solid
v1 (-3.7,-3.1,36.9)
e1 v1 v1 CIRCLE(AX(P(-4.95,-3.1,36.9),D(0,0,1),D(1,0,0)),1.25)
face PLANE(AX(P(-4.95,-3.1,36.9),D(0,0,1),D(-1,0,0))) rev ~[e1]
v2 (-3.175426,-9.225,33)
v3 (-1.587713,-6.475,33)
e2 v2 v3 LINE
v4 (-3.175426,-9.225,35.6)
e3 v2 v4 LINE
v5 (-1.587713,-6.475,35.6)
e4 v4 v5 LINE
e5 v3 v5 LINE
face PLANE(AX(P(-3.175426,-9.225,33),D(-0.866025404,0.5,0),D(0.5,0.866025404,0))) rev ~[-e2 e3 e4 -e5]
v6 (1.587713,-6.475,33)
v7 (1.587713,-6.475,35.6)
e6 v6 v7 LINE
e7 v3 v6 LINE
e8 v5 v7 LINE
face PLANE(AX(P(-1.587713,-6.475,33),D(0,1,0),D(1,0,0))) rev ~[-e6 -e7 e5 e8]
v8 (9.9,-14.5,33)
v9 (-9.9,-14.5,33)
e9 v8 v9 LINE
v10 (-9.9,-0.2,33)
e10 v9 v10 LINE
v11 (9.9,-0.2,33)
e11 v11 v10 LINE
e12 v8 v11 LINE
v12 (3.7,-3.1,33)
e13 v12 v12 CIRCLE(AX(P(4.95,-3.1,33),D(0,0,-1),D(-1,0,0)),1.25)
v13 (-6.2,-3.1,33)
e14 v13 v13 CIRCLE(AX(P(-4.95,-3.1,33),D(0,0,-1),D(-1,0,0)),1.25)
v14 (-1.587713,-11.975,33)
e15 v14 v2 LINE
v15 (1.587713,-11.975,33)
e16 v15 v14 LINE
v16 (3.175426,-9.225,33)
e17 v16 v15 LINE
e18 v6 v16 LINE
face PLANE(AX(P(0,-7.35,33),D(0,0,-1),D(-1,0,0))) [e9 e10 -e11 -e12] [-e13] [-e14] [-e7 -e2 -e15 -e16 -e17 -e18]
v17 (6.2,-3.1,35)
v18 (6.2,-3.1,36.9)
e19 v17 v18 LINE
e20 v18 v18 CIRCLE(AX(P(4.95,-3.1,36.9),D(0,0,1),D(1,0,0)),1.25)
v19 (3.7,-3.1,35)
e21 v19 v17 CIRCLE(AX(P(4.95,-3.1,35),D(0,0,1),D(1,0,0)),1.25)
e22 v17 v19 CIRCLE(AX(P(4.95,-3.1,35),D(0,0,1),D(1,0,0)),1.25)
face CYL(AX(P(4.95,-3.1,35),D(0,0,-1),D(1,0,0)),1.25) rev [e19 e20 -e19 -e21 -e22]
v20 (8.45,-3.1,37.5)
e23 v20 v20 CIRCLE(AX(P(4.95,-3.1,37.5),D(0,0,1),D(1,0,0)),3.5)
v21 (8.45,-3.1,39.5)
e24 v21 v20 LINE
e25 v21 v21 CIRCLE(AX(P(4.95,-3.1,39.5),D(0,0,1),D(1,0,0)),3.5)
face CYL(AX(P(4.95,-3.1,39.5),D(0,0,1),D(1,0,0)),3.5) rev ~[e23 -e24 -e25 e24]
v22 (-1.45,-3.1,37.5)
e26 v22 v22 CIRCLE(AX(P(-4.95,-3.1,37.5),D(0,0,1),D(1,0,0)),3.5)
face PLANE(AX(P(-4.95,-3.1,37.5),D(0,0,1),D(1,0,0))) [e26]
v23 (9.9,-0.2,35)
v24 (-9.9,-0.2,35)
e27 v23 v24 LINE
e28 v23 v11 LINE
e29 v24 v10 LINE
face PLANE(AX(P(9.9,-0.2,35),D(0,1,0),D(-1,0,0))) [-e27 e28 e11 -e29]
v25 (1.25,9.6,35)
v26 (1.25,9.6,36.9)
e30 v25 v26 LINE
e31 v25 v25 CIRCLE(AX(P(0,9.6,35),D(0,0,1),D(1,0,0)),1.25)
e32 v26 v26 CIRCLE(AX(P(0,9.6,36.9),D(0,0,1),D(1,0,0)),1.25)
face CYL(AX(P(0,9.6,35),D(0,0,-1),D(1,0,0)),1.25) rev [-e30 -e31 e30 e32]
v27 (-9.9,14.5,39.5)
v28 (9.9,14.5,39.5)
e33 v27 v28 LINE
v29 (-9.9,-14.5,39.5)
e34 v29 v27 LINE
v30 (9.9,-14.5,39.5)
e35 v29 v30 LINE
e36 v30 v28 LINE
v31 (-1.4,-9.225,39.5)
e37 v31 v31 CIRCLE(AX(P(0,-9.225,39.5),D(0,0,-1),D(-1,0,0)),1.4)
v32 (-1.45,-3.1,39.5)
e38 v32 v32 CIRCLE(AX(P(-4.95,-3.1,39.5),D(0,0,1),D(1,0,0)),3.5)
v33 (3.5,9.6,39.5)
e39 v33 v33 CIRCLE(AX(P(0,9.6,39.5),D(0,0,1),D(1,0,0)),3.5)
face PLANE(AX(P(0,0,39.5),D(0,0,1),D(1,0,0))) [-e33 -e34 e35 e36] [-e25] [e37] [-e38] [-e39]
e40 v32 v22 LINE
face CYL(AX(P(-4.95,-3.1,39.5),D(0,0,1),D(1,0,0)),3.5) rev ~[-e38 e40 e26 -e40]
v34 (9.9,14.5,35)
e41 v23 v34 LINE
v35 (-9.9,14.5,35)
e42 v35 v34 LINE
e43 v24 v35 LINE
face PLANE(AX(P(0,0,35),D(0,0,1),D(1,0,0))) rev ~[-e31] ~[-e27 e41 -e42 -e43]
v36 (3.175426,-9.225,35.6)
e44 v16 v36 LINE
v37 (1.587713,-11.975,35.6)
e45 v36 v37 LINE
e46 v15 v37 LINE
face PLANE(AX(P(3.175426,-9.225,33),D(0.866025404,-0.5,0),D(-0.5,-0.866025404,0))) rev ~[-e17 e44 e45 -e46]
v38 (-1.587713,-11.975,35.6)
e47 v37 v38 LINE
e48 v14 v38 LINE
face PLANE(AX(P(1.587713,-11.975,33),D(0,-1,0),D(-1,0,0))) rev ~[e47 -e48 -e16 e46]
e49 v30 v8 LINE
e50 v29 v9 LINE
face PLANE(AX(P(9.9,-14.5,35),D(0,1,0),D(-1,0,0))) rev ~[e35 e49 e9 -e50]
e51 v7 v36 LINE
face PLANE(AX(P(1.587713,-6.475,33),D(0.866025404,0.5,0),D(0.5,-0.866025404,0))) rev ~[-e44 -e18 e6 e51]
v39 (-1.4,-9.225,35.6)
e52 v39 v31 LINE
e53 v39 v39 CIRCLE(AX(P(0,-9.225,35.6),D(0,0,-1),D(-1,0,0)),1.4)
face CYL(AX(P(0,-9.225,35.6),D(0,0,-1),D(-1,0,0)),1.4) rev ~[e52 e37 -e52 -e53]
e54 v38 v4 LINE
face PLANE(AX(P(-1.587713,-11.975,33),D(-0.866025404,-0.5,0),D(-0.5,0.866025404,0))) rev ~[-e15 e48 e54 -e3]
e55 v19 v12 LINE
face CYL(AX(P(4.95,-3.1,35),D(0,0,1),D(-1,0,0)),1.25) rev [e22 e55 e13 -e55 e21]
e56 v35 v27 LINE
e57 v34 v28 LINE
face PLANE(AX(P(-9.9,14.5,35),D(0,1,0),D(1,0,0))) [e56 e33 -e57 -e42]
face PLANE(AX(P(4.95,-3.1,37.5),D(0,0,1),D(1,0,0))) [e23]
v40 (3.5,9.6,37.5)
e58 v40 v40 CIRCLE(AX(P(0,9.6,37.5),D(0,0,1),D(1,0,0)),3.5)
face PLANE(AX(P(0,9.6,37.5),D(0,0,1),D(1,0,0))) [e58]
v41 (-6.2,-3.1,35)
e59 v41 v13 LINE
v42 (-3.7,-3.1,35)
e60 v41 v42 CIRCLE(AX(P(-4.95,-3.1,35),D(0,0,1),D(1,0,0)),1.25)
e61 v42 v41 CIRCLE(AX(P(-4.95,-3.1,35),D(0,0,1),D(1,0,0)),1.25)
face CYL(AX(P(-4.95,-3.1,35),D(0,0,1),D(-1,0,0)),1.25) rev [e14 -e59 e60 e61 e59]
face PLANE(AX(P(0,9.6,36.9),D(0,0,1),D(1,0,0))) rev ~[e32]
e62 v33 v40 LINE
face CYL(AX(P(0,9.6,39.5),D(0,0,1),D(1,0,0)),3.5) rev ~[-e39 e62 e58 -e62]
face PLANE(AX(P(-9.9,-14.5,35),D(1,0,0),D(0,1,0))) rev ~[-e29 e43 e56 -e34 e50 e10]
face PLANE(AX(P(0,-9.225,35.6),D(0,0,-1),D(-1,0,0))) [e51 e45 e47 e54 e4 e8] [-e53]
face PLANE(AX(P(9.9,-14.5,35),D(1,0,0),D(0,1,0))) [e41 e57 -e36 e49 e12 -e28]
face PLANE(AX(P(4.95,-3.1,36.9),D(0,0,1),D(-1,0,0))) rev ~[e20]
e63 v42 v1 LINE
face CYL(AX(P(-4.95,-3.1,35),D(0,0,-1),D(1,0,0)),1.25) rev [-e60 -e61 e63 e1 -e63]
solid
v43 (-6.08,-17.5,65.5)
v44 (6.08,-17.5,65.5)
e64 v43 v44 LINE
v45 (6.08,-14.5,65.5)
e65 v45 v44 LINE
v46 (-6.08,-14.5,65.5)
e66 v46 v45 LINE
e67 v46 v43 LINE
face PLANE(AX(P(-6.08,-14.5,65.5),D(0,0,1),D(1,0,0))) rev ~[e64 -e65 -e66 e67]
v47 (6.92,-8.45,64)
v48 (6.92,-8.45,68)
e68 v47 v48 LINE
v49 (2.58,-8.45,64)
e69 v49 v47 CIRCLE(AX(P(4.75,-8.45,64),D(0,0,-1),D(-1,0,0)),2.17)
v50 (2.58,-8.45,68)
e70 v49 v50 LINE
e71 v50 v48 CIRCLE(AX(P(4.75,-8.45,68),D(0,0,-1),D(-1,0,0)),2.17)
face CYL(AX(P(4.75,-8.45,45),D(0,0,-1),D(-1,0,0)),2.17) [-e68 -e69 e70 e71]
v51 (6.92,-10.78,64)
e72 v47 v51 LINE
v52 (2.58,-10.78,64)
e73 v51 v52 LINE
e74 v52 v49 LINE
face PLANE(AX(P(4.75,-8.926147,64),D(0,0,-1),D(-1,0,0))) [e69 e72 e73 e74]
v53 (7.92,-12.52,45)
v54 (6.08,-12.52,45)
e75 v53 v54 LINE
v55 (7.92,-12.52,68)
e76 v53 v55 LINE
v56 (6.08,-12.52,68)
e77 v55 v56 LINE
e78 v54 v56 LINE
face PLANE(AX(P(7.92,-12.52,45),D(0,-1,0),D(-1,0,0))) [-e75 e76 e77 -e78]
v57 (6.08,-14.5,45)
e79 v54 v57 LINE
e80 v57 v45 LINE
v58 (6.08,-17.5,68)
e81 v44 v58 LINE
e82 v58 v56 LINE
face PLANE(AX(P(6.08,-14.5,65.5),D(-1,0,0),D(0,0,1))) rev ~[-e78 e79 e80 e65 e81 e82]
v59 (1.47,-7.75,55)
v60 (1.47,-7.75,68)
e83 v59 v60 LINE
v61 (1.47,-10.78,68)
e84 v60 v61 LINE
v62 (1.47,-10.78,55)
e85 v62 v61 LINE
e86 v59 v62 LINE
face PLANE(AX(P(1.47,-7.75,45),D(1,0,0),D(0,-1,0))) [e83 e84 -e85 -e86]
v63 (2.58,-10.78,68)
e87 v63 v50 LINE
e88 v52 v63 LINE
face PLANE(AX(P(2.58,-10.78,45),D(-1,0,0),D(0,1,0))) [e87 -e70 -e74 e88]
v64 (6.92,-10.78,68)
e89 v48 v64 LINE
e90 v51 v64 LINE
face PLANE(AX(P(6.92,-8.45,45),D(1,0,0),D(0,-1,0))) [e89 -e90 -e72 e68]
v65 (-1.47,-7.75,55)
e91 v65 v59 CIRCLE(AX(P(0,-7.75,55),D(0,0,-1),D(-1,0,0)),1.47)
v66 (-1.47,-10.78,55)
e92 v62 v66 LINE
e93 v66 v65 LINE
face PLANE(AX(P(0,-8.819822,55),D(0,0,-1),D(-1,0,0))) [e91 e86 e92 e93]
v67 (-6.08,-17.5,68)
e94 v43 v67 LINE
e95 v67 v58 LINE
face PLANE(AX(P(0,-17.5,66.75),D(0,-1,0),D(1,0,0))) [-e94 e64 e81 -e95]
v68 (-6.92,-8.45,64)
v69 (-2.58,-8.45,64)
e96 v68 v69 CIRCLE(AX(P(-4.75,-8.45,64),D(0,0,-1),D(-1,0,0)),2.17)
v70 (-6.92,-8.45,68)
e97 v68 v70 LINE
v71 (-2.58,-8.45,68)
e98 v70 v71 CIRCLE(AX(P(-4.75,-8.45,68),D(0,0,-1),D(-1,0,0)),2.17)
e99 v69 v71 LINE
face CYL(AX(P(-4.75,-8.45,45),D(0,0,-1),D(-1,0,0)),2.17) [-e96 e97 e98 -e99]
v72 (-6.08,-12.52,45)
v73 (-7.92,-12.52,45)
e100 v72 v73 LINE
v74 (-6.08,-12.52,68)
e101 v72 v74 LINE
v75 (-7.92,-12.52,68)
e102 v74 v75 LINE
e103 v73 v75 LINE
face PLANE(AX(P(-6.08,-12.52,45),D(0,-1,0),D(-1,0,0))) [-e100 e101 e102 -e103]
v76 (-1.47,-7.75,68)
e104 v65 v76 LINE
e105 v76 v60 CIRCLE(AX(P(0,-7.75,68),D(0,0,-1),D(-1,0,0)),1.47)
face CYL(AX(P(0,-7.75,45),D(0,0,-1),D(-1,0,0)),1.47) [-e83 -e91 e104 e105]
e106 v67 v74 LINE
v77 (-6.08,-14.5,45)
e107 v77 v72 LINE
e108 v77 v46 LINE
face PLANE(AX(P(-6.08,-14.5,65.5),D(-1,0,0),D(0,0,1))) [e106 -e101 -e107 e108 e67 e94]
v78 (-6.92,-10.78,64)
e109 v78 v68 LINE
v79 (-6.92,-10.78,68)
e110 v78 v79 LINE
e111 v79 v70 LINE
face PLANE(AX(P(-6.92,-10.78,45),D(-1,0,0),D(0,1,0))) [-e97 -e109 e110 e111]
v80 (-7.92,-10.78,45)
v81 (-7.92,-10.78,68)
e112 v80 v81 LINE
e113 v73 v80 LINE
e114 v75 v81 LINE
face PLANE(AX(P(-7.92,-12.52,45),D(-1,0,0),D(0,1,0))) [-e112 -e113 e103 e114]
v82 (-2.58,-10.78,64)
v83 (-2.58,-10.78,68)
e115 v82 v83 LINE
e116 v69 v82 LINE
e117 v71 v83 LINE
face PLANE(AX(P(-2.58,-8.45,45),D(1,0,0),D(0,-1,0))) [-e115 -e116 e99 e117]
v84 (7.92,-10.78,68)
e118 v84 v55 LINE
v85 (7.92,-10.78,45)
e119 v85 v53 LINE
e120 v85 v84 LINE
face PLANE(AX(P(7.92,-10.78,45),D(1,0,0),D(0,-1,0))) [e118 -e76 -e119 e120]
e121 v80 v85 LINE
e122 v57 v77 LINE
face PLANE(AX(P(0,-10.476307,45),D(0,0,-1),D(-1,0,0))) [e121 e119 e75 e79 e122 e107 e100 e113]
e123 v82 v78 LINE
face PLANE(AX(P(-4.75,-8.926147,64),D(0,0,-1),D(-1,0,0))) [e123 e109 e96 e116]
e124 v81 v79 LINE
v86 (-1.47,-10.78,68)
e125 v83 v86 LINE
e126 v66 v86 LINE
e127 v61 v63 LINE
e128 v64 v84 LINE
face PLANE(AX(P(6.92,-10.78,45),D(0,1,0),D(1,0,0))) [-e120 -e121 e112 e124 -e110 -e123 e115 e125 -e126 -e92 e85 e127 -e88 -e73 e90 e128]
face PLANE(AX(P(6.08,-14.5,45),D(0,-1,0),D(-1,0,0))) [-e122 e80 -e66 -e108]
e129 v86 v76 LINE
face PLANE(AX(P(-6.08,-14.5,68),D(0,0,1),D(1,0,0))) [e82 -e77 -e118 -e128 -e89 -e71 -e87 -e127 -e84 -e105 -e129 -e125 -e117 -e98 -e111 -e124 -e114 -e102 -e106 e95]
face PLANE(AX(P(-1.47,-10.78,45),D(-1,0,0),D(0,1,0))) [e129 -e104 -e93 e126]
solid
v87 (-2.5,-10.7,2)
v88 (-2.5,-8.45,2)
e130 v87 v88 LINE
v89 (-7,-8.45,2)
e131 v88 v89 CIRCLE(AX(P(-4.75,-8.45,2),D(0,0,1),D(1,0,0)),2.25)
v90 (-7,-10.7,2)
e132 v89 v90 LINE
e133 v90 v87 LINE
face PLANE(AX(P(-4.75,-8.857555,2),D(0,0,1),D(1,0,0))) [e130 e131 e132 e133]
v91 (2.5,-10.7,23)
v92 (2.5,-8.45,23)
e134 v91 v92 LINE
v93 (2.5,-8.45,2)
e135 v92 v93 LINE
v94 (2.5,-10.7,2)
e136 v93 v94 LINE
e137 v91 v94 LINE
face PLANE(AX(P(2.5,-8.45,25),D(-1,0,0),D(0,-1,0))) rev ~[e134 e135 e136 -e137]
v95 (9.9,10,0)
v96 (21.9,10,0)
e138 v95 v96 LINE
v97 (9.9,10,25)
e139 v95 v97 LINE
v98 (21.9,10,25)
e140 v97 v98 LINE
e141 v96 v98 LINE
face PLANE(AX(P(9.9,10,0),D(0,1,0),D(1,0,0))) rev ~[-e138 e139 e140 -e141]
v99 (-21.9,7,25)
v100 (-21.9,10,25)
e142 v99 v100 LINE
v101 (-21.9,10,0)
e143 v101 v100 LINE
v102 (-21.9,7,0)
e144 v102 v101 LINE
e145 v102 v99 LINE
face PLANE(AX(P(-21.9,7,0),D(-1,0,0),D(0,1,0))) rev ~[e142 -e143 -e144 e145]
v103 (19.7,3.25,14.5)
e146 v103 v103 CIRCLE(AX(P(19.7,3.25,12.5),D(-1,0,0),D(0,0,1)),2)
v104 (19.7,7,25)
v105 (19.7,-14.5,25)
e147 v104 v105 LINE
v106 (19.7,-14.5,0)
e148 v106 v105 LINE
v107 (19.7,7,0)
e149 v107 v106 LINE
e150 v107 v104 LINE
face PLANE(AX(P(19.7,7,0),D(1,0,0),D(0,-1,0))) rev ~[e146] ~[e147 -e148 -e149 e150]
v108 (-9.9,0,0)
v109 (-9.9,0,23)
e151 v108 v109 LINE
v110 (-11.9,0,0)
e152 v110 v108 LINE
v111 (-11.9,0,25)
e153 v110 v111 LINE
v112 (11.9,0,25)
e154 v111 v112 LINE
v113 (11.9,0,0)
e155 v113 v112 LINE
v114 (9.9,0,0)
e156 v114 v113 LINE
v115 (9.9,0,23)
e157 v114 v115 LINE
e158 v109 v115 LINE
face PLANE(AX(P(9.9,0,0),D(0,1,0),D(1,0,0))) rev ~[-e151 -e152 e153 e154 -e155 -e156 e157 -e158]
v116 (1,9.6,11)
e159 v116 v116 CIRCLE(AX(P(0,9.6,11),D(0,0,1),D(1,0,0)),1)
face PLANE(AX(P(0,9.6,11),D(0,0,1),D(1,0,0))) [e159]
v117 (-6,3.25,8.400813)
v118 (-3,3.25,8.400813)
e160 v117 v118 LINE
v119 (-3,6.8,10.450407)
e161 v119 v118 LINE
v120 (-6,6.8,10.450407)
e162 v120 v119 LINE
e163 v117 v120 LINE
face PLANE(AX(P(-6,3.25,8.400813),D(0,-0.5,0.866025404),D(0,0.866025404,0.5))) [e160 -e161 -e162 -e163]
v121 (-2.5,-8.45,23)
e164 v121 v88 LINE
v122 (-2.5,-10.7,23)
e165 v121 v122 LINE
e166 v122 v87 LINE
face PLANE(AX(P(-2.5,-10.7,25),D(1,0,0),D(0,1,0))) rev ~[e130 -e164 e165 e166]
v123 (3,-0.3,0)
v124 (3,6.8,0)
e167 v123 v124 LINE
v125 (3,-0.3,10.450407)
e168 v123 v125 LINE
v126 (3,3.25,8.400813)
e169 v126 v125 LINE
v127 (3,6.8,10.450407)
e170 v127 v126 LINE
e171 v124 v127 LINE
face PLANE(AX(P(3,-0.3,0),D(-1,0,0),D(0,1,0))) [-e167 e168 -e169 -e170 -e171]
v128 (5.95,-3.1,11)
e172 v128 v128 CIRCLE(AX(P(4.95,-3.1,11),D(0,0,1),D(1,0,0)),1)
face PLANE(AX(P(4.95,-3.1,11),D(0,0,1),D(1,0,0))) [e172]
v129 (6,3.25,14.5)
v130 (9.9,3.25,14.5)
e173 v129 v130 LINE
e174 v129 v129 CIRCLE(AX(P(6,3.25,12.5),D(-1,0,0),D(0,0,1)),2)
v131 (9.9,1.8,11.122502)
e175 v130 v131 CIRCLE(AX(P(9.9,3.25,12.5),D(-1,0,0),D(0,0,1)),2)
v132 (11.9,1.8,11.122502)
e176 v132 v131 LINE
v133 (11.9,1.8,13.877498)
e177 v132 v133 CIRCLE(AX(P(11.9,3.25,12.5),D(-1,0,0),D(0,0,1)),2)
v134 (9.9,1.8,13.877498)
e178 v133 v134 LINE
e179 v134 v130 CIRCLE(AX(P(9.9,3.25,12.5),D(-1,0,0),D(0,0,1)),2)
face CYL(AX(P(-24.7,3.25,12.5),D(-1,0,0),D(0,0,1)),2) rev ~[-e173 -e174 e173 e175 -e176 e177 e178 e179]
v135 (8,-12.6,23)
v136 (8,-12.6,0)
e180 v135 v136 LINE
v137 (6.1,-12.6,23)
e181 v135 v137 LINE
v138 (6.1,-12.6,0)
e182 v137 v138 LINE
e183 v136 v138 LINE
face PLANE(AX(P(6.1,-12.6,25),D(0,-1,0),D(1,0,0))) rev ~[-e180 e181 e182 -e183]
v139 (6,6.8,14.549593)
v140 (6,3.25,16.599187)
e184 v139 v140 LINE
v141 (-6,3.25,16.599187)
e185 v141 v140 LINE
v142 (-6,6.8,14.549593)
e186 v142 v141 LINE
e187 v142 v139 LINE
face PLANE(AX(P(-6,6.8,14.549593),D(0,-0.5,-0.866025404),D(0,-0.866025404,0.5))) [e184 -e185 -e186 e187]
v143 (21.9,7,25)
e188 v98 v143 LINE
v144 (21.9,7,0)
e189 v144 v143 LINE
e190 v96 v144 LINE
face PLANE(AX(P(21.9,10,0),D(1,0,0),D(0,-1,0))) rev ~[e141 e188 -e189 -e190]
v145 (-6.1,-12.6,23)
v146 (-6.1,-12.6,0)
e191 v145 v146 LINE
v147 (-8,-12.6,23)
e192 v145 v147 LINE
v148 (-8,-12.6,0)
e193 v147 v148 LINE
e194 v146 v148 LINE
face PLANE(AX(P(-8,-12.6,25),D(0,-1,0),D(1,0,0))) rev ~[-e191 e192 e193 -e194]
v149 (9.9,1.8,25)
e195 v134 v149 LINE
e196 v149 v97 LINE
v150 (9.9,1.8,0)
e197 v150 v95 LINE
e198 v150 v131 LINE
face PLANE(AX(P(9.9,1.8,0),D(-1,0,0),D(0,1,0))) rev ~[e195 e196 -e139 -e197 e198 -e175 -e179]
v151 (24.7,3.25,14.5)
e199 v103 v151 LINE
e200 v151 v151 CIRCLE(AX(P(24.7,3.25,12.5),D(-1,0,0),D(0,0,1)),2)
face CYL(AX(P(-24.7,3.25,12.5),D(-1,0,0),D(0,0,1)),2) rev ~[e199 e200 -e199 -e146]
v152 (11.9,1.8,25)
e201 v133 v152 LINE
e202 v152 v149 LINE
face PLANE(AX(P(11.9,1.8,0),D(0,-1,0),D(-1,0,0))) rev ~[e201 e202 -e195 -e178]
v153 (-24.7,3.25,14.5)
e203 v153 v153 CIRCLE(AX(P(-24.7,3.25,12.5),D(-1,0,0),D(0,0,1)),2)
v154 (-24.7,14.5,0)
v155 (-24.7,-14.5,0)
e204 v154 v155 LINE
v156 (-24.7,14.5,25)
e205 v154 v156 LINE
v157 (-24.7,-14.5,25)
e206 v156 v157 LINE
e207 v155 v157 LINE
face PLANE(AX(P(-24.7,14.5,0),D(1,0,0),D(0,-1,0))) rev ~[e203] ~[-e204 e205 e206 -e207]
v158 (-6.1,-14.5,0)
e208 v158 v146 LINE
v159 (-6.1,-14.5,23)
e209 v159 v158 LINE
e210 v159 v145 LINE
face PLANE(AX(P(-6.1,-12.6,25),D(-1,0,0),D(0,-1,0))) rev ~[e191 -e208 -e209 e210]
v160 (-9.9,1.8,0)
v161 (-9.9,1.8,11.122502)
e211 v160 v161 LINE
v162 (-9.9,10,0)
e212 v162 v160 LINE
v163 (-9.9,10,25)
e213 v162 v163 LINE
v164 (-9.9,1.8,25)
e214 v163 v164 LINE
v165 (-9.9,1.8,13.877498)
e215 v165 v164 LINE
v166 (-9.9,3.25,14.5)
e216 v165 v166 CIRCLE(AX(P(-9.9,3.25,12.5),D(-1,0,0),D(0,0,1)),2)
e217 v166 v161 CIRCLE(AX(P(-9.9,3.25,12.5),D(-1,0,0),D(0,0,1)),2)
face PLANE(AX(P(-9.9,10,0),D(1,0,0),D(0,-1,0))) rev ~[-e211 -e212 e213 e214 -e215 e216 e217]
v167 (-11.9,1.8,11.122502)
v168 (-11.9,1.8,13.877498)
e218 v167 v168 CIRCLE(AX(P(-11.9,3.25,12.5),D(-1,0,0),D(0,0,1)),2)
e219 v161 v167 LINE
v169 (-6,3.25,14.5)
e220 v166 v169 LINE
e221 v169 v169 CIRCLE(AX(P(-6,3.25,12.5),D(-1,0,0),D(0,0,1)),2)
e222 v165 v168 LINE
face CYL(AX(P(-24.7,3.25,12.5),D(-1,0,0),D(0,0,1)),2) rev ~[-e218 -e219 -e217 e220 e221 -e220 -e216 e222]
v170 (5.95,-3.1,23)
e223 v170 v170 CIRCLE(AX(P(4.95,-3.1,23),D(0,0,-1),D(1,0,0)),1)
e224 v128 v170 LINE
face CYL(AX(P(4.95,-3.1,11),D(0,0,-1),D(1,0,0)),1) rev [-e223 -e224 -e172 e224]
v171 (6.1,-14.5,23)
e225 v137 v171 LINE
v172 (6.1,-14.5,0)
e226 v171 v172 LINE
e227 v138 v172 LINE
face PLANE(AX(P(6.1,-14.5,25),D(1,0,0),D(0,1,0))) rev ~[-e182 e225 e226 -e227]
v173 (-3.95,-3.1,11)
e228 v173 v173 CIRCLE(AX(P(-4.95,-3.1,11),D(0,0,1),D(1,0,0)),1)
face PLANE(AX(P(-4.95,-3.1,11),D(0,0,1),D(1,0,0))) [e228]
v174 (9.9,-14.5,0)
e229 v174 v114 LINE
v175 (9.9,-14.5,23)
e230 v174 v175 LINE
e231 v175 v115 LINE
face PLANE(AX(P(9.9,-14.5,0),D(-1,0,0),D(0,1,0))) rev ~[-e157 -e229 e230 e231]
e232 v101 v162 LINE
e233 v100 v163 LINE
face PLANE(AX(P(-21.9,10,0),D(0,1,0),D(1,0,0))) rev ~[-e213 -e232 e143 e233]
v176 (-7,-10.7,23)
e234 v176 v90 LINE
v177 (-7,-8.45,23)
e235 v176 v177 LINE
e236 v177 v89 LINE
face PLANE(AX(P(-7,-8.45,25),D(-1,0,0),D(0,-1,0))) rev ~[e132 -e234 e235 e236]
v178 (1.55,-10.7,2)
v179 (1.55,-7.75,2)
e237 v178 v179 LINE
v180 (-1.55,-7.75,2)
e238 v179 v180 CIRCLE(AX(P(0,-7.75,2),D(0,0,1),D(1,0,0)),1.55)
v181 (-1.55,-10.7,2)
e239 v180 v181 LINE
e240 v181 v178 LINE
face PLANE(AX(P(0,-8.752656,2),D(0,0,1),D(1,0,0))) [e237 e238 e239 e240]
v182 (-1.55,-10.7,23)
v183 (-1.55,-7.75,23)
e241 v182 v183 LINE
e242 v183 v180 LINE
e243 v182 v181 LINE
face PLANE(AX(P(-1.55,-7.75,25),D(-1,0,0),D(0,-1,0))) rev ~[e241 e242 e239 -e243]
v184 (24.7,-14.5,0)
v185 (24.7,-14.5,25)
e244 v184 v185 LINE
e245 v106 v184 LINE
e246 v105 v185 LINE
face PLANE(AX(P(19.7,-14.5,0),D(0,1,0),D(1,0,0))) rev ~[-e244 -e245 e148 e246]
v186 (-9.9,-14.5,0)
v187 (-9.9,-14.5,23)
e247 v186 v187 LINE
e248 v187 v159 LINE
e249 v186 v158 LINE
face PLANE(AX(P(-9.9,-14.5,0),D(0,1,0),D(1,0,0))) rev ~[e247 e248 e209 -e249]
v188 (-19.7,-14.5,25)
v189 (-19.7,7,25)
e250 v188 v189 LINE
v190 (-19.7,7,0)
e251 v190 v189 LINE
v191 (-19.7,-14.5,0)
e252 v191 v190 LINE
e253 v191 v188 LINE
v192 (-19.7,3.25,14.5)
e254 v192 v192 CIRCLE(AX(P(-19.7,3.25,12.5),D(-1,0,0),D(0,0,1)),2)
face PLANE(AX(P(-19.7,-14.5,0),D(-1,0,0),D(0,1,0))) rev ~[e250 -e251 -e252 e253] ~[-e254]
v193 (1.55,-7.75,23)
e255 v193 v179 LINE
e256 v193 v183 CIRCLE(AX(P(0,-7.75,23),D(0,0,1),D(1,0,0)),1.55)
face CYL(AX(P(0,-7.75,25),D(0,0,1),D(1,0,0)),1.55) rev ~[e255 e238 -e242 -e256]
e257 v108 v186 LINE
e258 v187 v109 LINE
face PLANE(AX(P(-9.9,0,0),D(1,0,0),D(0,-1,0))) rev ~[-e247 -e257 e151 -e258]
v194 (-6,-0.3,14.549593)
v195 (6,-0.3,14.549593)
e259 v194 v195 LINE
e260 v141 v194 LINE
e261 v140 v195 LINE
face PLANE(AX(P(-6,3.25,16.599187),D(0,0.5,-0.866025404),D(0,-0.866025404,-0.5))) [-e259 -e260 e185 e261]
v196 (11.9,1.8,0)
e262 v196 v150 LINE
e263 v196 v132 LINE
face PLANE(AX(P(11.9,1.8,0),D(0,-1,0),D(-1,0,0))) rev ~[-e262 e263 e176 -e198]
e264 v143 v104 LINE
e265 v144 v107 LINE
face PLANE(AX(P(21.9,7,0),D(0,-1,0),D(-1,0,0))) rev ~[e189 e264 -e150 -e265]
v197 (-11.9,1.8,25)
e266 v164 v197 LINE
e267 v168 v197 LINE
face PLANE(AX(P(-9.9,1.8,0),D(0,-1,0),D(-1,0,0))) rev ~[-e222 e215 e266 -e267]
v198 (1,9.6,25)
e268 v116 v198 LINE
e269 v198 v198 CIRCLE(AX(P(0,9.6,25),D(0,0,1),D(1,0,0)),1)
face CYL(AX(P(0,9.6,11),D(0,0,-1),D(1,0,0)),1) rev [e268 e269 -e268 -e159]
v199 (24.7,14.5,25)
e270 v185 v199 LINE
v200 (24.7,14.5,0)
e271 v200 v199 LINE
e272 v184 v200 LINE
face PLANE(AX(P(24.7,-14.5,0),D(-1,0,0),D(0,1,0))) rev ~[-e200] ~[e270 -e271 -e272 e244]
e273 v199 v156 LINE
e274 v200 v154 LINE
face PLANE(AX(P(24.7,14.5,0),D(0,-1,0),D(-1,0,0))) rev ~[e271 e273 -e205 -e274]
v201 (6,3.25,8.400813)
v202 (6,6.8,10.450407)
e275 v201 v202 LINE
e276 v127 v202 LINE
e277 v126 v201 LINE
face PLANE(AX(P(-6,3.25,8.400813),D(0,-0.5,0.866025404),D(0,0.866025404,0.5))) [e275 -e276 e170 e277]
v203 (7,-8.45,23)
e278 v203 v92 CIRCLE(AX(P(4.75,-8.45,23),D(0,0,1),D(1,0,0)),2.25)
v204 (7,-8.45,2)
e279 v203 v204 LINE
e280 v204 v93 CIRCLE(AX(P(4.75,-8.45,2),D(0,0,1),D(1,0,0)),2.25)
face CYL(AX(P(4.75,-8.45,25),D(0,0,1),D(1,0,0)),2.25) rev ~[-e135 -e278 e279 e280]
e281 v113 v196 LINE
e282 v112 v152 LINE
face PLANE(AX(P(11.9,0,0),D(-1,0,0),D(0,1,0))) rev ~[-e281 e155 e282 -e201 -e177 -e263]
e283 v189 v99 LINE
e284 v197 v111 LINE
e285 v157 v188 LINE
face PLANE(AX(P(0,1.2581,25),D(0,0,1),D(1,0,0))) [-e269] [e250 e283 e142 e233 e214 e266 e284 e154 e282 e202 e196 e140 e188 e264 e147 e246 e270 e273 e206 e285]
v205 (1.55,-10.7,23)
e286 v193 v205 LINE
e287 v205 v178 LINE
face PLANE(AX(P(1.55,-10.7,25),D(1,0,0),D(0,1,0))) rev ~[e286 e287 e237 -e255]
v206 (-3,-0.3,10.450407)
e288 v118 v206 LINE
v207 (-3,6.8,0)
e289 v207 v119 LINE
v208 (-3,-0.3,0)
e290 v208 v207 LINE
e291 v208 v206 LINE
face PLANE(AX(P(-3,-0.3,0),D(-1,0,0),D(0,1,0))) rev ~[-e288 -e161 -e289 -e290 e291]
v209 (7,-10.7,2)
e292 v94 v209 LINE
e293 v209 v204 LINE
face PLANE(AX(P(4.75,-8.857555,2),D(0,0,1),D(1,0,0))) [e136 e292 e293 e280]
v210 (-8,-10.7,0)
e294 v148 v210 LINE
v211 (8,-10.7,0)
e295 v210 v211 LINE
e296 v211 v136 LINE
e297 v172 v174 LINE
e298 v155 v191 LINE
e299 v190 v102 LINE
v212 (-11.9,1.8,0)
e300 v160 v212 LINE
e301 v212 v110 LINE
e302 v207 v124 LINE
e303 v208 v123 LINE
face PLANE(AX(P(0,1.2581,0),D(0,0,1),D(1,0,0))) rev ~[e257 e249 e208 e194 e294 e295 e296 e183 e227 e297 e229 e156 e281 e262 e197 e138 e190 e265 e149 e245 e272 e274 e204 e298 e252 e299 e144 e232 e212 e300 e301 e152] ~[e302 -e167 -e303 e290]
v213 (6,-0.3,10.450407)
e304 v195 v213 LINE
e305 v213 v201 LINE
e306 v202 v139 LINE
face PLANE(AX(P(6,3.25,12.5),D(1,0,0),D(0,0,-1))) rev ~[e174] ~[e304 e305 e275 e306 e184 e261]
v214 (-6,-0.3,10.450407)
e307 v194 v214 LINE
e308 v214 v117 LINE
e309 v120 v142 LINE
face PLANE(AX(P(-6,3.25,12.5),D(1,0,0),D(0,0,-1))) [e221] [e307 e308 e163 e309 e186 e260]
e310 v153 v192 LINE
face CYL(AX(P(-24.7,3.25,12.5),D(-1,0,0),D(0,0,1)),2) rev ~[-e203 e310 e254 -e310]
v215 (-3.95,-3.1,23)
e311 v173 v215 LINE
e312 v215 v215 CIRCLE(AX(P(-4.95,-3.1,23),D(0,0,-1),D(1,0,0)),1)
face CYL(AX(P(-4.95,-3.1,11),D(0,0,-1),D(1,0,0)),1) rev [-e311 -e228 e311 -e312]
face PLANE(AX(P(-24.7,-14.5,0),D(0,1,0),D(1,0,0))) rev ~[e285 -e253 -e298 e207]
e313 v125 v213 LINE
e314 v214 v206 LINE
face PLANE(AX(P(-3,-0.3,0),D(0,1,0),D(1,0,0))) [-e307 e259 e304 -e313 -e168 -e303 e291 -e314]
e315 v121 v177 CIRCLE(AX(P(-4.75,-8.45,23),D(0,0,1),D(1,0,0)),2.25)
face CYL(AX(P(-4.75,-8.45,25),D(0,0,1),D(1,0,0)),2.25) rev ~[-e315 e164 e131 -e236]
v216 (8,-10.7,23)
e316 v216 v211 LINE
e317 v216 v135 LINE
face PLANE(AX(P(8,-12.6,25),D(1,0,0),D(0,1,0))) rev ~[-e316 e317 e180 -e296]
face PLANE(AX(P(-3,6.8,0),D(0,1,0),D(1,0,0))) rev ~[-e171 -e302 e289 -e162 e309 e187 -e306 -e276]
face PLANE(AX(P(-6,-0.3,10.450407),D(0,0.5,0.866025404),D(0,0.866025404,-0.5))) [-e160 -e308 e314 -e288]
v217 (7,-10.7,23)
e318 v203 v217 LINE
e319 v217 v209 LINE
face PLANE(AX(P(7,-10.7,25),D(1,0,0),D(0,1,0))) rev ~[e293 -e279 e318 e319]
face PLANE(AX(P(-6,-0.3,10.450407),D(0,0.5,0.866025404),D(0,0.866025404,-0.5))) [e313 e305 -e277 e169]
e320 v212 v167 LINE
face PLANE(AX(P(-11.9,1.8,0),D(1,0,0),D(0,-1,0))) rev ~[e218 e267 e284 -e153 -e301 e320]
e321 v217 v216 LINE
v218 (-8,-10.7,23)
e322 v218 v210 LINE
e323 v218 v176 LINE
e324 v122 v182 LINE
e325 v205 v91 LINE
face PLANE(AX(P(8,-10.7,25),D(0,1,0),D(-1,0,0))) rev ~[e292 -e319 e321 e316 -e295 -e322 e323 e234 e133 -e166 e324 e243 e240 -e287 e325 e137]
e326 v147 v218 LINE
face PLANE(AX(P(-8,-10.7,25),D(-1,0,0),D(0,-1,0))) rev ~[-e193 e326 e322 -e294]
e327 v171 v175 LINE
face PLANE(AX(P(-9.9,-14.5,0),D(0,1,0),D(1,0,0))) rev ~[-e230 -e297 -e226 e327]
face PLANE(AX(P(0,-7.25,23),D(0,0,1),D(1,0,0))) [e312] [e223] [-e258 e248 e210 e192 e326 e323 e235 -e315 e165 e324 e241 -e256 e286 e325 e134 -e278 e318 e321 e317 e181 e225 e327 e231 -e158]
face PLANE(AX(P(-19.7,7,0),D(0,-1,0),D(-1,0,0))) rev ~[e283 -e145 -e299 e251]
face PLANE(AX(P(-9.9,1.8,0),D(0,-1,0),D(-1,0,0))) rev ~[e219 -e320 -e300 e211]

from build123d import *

# Parameters (mm, degrees)
BOSS_EXTRUDE1_DEPTH     = 25
SKETCH2_R               = 2
CUT_EXTRUDE1_DEPTH      = 58.232945058
CUT_EXTRUDE2_DEPTH      = 6
CUT_EXTRUDE2_DEPTH_BACK = 6
SKETCH6_W               = 6
SKETCH6_H               = 7.1
CUT_EXTRUDE3_DEPTH      = 10.450407
CUT_EXTRUDE4_REACH      = 40.018
CUT_EXTRUDE5_DEPTH      = 23
SKETCH12_W              = 19.8
SKETCH12_H              = 14.5
CUT_EXTRUDE6_DEPTH      = 2
CUT_EXTRUDE7_DEPTH      = 2
CUT_EXTRUDE7_DEPTH_BACK = 12
SKETCH13_R              = 1
SKETCH14_W              = 19.8
SKETCH14_H              = 29
SKETCH14_R              = 1.25
BOSS_EXTRUDE2_DEPTH     = 4.5
SKETCH15_W              = 19.8
SKETCH15_H              = 14.3
SKETCH15_R              = 1.25
BOSS_EXTRUDE3_DEPTH     = 2
SKETCH16_R              = 3.5
CUT_EXTRUDE8_DEPTH      = 2
SKETCH17_R              = 1.25
BOSS_EXTRUDE4_DEPTH     = 0.6
CUT_EXTRUDE9_DEPTH      = 2.6
SKETCH19_R              = 1.4
CUT_EXTRUDE10_DEPTH     = 3.9
BOSS_EXTRUDE5_DEPTH     = 23
SKETCH21_W              = 12.16
SKETCH21_H              = 2.5
BOSS_EXTRUDE6_DEPTH     = 3
CUT_EXTRUDE11_DEPTH     = 10
CUT_EXTRUDE12_DEPTH     = 9


with BuildPart() as part:
    # Sketch1 → Boss-Extrude1 (new body)
    with BuildSketch(Plane.XY):
        Polygon((-21.9, 7), (-21.9, 10), (-9.9, 10), (-9.9, 1.8), (-11.9, 1.8), (-11.9, 0), (-9.9, 0), (-9.9, -14.5), (9.9, -14.5), (9.9, 0), (11.9, 0), (11.9, 1.8), (9.9, 1.8), (9.9, 10), (21.9, 10), (21.9, 7), (19.7, 7), (19.7, -14.5), (24.7, -14.5), (24.7, 14.5), (-24.7, 14.5), (-24.7, -14.5), (-19.7, -14.5), (-19.7, 7), align=None)
    extrude(amount=BOSS_EXTRUDE1_DEPTH)

    # Sketch2 → Cut-Extrude1 (cut, through all)
    with BuildSketch(Plane.ZY.offset(24.7)):
        with Locations((12.5, 3.25)):
            Circle(SKETCH2_R)
    extrude(amount=-CUT_EXTRUDE1_DEPTH, mode=Mode.SUBTRACT)

    # Sketch5 → Cut-Extrude2 (cut, two sides: drawn at the far end of the back side and taken through both)
    with BuildSketch(Plane(origin=(0, 0, 0), x_dir=(0, 0, -1), z_dir=(1, 0, 0)).offset(-CUT_EXTRUDE2_DEPTH_BACK)):
        Polygon((-8.400813089, 3.25), (-10.450406544, 6.8), (-14.549593456, 6.8), (-16.599186911, 3.25), (-14.549593456, -0.3), (-10.450406544, -0.3), align=None)
    extrude(amount=CUT_EXTRUDE2_DEPTH + CUT_EXTRUDE2_DEPTH_BACK, mode=Mode.SUBTRACT)

    # Sketch6 → Cut-Extrude3 (cut)
    with BuildSketch(Plane.XY):
        with Locations((0, 3.25)):
            Rectangle(SKETCH6_W, SKETCH6_H)
    extrude(amount=CUT_EXTRUDE3_DEPTH, mode=Mode.SUBTRACT)

    # Sketch9 → Cut-Extrude4 (cut, up to next)
    with BuildSketch(Plane.XY.offset(25), mode=Mode.PRIVATE) as cut_extrude4_sk1:
        Polygon((-6.1, -14.5), (6.1, -14.5), (6.1, -12.6), (8, -12.6), (8, -10.7), (-8, -10.7), (-8, -12.6), (-6.1, -12.6), align=None)
    cut_extrude4_tool1 = extrude(cut_extrude4_sk1.sketch, amount=-CUT_EXTRUDE4_REACH, mode=Mode.PRIVATE) & part.part
    add(cut_extrude4_tool1.solids().sort_by_distance((0, -12.471986, 25))[0], mode=Mode.SUBTRACT)

    # Sketch11 → Cut-Extrude5 (cut)
    with BuildSketch(Plane.XY.offset(25)):
        with BuildLine():
            Line((-7, -8.45), (-7, -10.7))
            Line((-7, -10.7), (-2.5, -10.7))
            Line((-2.5, -10.7), (-2.5, -8.45))
            ThreePointArc((-2.5, -8.45), (-4.75, -6.2), (-7, -8.45))
        make_face()
        with BuildLine():
            Line((2.5, -8.45), (2.5, -10.7))
            Line((2.5, -10.7), (7, -10.7))
            Line((7, -10.7), (7, -8.45))
            ThreePointArc((7, -8.45), (4.75, -6.2), (2.5, -8.45))
        make_face()
        with BuildLine():
            Line((-1.55, -7.75), (-1.55, -10.7))
            Line((-1.55, -10.7), (1.55, -10.7))
            Line((1.55, -10.7), (1.55, -7.75))
            ThreePointArc((1.55, -7.75), (0, -6.2), (-1.55, -7.75))
        make_face()
    extrude(amount=-CUT_EXTRUDE5_DEPTH, mode=Mode.SUBTRACT)

    # Sketch12 → Cut-Extrude6 (cut)
    with BuildSketch(Plane.XY.offset(25)):
        with Locations((0, -7.25)):
            Rectangle(SKETCH12_W, SKETCH12_H)
    extrude(amount=-CUT_EXTRUDE6_DEPTH, mode=Mode.SUBTRACT)

    # Sketch13 → Cut-Extrude7 (cut, two sides: drawn at the far end of the back side and taken through both)
    with BuildSketch(Plane.XY.offset(23).offset(-CUT_EXTRUDE7_DEPTH_BACK)):
        with Locations((-4.95, -3.1)):
            Circle(SKETCH13_R)
        with Locations((4.95, -3.1)):
            Circle(SKETCH13_R)
        with Locations((0, 9.6)):
            Circle(SKETCH13_R)
    extrude(amount=CUT_EXTRUDE7_DEPTH + CUT_EXTRUDE7_DEPTH_BACK, mode=Mode.SUBTRACT)


with BuildPart() as body_2:
    # Sketch14 → Boss-Extrude2 (new body)
    with BuildSketch(Plane.XY.offset(35)):
        Rectangle(SKETCH14_W, SKETCH14_H)
        with Locations((0, 9.6)):
            Circle(SKETCH14_R, mode=Mode.SUBTRACT)
        with Locations((-4.95, -3.1)):
            Circle(SKETCH14_R, mode=Mode.SUBTRACT)
        with Locations((4.95, -3.1)):
            Circle(SKETCH14_R, mode=Mode.SUBTRACT)
    extrude(amount=BOSS_EXTRUDE2_DEPTH)

    # Sketch15 → Boss-Extrude3 (add)
    with BuildSketch(Plane(origin=(0, 0, 35), x_dir=(-1, 0, 0), z_dir=(0, 0, -1))):
        with Locations((0, -7.35)):
            Rectangle(SKETCH15_W, SKETCH15_H)
        with Locations((4.95, -3.1)):
            Circle(SKETCH15_R, mode=Mode.SUBTRACT)
        with Locations((-4.95, -3.1)):
            Circle(SKETCH15_R, mode=Mode.SUBTRACT)
    extrude(amount=BOSS_EXTRUDE3_DEPTH)

    # Sketch16 → Cut-Extrude8 (cut)
    with BuildSketch(Plane.XY.offset(39.5)):
        with Locations((4.95, -3.1)):
            Circle(SKETCH16_R)
        with Locations((-4.95, -3.1)):
            Circle(SKETCH16_R)
        with Locations((0, 9.6)):
            Circle(SKETCH16_R)
    extrude(amount=-CUT_EXTRUDE8_DEPTH, mode=Mode.SUBTRACT)

    # Sketch17 → Boss-Extrude4 (add)
    with BuildSketch(Plane.XY.offset(37.5)):
        with Locations((0, 9.6)):
            Circle(SKETCH17_R)
        with Locations(Location((-4.95, -3.1, 0), (0, 0, 180))):
            Circle(SKETCH17_R)
        with Locations(Location((4.95, -3.1, 0), (0, 0, 180))):
            Circle(SKETCH17_R)
    extrude(amount=-BOSS_EXTRUDE4_DEPTH)

    # Sketch18 → Cut-Extrude9 (cut)
    with BuildSketch(Plane(origin=(0, 0, 33), x_dir=(-1, 0, 0), z_dir=(0, 0, -1))):
        Polygon((-3.175426481, -9.225), (-1.58771324, -11.975), (1.58771324, -11.975), (3.175426481, -9.225), (1.58771324, -6.475), (-1.58771324, -6.475), align=None)
    extrude(amount=-CUT_EXTRUDE9_DEPTH, mode=Mode.SUBTRACT)

    # Sketch19 → Cut-Extrude10 (cut)
    with BuildSketch(Plane(origin=(0, 0, 35.6), x_dir=(-1, 0, 0), z_dir=(0, 0, -1))):
        with Locations((0, -9.225)):
            Circle(SKETCH19_R)
    extrude(amount=-CUT_EXTRUDE10_DEPTH, mode=Mode.SUBTRACT)


with BuildPart() as body_3:
    # Sketch20 → Boss-Extrude5 (new body)
    with BuildSketch(Plane.XY.offset(45)):
        with BuildLine():
            Line((-6.08, -12.52), (-7.92, -12.52))
            Line((-7.92, -12.52), (-7.92, -10.78))
            Line((-7.92, -10.78), (-6.92, -10.78))
            Line((-6.92, -10.78), (-6.92, -8.45))
            ThreePointArc((-6.92, -8.45), (-4.75, -6.28), (-2.58, -8.45))
            Line((-2.58, -8.45), (-2.58, -10.78))
            Line((-2.58, -10.78), (-1.47, -10.78))
            Line((-1.47, -10.78), (-1.47, -7.75))
            ThreePointArc((-1.47, -7.75), (0, -6.28), (1.47, -7.75))
            Line((1.47, -7.75), (1.47, -10.78))
            Line((1.47, -10.78), (2.58, -10.78))
            Line((2.58, -10.78), (2.58, -8.45))
            ThreePointArc((2.58, -8.45), (4.75, -6.28), (6.92, -8.45))
            Line((6.92, -8.45), (6.92, -10.78))
            Line((6.92, -10.78), (7.92, -10.78))
            Line((7.92, -10.78), (7.92, -12.52))
            Line((7.92, -12.52), (6.08, -12.52))
            Line((6.08, -12.52), (6.08, -14.5))
            Line((6.08, -14.5), (-6.08, -14.5))
            Line((-6.08, -14.5), (-6.08, -12.52))
        make_face()
    extrude(amount=BOSS_EXTRUDE5_DEPTH)

    # Sketch21 → Boss-Extrude6 (add)
    with BuildSketch(Plane.XZ.offset(14.5)):
        with Locations((0, 66.75)):
            Rectangle(SKETCH21_W, SKETCH21_H)
    extrude(amount=BOSS_EXTRUDE6_DEPTH)

    # Sketch22 → Cut-Extrude11 (cut)
    with BuildSketch(Plane(origin=(0, 0, 45), x_dir=(-1, 0, 0), z_dir=(0, 0, -1))):
        with BuildLine():
            Line((2.58, -10.78), (6.92, -10.78))
            Line((6.92, -10.78), (6.92, -8.45))
            ThreePointArc((6.92, -8.45), (4.75, -6.28), (2.58, -8.45))
            Line((2.58, -8.45), (2.58, -10.78))
        make_face()
        with BuildLine():
            Line((-1.47, -10.78), (1.47, -10.78))
            Line((1.47, -10.78), (1.47, -7.75))
            ThreePointArc((1.47, -7.75), (0, -6.28), (-1.47, -7.75))
            Line((-1.47, -7.75), (-1.47, -10.78))
        make_face()
        with BuildLine():
            Line((-6.92, -10.78), (-2.58, -10.78))
            Line((-2.58, -10.78), (-2.58, -8.45))
            ThreePointArc((-2.58, -8.45), (-4.75, -6.28), (-6.92, -8.45))
            Line((-6.92, -8.45), (-6.92, -10.78))
        make_face()
    extrude(amount=-CUT_EXTRUDE11_DEPTH, mode=Mode.SUBTRACT)

    # Sketch23 → Cut-Extrude12 (cut)
    with BuildSketch(Plane(origin=(0, 0, 55), x_dir=(-1, 0, 0), z_dir=(0, 0, -1))):
        with BuildLine():
            Line((-6.92, -10.78), (-2.58, -10.78))
            Line((-2.58, -10.78), (-2.58, -8.45))
            ThreePointArc((-2.58, -8.45), (-4.75, -6.28), (-6.92, -8.45))
            Line((-6.92, -8.45), (-6.92, -10.78))
        make_face()
        with BuildLine():
            Line((2.58, -10.78), (6.92, -10.78))
            Line((6.92, -10.78), (6.92, -8.45))
            ThreePointArc((6.92, -8.45), (4.75, -6.28), (2.58, -8.45))
            Line((2.58, -8.45), (2.58, -10.78))
        make_face()
    extrude(amount=-CUT_EXTRUDE12_DEPTH, mode=Mode.SUBTRACT)


solid = Compound([part.part, body_2.part, body_3.part])
